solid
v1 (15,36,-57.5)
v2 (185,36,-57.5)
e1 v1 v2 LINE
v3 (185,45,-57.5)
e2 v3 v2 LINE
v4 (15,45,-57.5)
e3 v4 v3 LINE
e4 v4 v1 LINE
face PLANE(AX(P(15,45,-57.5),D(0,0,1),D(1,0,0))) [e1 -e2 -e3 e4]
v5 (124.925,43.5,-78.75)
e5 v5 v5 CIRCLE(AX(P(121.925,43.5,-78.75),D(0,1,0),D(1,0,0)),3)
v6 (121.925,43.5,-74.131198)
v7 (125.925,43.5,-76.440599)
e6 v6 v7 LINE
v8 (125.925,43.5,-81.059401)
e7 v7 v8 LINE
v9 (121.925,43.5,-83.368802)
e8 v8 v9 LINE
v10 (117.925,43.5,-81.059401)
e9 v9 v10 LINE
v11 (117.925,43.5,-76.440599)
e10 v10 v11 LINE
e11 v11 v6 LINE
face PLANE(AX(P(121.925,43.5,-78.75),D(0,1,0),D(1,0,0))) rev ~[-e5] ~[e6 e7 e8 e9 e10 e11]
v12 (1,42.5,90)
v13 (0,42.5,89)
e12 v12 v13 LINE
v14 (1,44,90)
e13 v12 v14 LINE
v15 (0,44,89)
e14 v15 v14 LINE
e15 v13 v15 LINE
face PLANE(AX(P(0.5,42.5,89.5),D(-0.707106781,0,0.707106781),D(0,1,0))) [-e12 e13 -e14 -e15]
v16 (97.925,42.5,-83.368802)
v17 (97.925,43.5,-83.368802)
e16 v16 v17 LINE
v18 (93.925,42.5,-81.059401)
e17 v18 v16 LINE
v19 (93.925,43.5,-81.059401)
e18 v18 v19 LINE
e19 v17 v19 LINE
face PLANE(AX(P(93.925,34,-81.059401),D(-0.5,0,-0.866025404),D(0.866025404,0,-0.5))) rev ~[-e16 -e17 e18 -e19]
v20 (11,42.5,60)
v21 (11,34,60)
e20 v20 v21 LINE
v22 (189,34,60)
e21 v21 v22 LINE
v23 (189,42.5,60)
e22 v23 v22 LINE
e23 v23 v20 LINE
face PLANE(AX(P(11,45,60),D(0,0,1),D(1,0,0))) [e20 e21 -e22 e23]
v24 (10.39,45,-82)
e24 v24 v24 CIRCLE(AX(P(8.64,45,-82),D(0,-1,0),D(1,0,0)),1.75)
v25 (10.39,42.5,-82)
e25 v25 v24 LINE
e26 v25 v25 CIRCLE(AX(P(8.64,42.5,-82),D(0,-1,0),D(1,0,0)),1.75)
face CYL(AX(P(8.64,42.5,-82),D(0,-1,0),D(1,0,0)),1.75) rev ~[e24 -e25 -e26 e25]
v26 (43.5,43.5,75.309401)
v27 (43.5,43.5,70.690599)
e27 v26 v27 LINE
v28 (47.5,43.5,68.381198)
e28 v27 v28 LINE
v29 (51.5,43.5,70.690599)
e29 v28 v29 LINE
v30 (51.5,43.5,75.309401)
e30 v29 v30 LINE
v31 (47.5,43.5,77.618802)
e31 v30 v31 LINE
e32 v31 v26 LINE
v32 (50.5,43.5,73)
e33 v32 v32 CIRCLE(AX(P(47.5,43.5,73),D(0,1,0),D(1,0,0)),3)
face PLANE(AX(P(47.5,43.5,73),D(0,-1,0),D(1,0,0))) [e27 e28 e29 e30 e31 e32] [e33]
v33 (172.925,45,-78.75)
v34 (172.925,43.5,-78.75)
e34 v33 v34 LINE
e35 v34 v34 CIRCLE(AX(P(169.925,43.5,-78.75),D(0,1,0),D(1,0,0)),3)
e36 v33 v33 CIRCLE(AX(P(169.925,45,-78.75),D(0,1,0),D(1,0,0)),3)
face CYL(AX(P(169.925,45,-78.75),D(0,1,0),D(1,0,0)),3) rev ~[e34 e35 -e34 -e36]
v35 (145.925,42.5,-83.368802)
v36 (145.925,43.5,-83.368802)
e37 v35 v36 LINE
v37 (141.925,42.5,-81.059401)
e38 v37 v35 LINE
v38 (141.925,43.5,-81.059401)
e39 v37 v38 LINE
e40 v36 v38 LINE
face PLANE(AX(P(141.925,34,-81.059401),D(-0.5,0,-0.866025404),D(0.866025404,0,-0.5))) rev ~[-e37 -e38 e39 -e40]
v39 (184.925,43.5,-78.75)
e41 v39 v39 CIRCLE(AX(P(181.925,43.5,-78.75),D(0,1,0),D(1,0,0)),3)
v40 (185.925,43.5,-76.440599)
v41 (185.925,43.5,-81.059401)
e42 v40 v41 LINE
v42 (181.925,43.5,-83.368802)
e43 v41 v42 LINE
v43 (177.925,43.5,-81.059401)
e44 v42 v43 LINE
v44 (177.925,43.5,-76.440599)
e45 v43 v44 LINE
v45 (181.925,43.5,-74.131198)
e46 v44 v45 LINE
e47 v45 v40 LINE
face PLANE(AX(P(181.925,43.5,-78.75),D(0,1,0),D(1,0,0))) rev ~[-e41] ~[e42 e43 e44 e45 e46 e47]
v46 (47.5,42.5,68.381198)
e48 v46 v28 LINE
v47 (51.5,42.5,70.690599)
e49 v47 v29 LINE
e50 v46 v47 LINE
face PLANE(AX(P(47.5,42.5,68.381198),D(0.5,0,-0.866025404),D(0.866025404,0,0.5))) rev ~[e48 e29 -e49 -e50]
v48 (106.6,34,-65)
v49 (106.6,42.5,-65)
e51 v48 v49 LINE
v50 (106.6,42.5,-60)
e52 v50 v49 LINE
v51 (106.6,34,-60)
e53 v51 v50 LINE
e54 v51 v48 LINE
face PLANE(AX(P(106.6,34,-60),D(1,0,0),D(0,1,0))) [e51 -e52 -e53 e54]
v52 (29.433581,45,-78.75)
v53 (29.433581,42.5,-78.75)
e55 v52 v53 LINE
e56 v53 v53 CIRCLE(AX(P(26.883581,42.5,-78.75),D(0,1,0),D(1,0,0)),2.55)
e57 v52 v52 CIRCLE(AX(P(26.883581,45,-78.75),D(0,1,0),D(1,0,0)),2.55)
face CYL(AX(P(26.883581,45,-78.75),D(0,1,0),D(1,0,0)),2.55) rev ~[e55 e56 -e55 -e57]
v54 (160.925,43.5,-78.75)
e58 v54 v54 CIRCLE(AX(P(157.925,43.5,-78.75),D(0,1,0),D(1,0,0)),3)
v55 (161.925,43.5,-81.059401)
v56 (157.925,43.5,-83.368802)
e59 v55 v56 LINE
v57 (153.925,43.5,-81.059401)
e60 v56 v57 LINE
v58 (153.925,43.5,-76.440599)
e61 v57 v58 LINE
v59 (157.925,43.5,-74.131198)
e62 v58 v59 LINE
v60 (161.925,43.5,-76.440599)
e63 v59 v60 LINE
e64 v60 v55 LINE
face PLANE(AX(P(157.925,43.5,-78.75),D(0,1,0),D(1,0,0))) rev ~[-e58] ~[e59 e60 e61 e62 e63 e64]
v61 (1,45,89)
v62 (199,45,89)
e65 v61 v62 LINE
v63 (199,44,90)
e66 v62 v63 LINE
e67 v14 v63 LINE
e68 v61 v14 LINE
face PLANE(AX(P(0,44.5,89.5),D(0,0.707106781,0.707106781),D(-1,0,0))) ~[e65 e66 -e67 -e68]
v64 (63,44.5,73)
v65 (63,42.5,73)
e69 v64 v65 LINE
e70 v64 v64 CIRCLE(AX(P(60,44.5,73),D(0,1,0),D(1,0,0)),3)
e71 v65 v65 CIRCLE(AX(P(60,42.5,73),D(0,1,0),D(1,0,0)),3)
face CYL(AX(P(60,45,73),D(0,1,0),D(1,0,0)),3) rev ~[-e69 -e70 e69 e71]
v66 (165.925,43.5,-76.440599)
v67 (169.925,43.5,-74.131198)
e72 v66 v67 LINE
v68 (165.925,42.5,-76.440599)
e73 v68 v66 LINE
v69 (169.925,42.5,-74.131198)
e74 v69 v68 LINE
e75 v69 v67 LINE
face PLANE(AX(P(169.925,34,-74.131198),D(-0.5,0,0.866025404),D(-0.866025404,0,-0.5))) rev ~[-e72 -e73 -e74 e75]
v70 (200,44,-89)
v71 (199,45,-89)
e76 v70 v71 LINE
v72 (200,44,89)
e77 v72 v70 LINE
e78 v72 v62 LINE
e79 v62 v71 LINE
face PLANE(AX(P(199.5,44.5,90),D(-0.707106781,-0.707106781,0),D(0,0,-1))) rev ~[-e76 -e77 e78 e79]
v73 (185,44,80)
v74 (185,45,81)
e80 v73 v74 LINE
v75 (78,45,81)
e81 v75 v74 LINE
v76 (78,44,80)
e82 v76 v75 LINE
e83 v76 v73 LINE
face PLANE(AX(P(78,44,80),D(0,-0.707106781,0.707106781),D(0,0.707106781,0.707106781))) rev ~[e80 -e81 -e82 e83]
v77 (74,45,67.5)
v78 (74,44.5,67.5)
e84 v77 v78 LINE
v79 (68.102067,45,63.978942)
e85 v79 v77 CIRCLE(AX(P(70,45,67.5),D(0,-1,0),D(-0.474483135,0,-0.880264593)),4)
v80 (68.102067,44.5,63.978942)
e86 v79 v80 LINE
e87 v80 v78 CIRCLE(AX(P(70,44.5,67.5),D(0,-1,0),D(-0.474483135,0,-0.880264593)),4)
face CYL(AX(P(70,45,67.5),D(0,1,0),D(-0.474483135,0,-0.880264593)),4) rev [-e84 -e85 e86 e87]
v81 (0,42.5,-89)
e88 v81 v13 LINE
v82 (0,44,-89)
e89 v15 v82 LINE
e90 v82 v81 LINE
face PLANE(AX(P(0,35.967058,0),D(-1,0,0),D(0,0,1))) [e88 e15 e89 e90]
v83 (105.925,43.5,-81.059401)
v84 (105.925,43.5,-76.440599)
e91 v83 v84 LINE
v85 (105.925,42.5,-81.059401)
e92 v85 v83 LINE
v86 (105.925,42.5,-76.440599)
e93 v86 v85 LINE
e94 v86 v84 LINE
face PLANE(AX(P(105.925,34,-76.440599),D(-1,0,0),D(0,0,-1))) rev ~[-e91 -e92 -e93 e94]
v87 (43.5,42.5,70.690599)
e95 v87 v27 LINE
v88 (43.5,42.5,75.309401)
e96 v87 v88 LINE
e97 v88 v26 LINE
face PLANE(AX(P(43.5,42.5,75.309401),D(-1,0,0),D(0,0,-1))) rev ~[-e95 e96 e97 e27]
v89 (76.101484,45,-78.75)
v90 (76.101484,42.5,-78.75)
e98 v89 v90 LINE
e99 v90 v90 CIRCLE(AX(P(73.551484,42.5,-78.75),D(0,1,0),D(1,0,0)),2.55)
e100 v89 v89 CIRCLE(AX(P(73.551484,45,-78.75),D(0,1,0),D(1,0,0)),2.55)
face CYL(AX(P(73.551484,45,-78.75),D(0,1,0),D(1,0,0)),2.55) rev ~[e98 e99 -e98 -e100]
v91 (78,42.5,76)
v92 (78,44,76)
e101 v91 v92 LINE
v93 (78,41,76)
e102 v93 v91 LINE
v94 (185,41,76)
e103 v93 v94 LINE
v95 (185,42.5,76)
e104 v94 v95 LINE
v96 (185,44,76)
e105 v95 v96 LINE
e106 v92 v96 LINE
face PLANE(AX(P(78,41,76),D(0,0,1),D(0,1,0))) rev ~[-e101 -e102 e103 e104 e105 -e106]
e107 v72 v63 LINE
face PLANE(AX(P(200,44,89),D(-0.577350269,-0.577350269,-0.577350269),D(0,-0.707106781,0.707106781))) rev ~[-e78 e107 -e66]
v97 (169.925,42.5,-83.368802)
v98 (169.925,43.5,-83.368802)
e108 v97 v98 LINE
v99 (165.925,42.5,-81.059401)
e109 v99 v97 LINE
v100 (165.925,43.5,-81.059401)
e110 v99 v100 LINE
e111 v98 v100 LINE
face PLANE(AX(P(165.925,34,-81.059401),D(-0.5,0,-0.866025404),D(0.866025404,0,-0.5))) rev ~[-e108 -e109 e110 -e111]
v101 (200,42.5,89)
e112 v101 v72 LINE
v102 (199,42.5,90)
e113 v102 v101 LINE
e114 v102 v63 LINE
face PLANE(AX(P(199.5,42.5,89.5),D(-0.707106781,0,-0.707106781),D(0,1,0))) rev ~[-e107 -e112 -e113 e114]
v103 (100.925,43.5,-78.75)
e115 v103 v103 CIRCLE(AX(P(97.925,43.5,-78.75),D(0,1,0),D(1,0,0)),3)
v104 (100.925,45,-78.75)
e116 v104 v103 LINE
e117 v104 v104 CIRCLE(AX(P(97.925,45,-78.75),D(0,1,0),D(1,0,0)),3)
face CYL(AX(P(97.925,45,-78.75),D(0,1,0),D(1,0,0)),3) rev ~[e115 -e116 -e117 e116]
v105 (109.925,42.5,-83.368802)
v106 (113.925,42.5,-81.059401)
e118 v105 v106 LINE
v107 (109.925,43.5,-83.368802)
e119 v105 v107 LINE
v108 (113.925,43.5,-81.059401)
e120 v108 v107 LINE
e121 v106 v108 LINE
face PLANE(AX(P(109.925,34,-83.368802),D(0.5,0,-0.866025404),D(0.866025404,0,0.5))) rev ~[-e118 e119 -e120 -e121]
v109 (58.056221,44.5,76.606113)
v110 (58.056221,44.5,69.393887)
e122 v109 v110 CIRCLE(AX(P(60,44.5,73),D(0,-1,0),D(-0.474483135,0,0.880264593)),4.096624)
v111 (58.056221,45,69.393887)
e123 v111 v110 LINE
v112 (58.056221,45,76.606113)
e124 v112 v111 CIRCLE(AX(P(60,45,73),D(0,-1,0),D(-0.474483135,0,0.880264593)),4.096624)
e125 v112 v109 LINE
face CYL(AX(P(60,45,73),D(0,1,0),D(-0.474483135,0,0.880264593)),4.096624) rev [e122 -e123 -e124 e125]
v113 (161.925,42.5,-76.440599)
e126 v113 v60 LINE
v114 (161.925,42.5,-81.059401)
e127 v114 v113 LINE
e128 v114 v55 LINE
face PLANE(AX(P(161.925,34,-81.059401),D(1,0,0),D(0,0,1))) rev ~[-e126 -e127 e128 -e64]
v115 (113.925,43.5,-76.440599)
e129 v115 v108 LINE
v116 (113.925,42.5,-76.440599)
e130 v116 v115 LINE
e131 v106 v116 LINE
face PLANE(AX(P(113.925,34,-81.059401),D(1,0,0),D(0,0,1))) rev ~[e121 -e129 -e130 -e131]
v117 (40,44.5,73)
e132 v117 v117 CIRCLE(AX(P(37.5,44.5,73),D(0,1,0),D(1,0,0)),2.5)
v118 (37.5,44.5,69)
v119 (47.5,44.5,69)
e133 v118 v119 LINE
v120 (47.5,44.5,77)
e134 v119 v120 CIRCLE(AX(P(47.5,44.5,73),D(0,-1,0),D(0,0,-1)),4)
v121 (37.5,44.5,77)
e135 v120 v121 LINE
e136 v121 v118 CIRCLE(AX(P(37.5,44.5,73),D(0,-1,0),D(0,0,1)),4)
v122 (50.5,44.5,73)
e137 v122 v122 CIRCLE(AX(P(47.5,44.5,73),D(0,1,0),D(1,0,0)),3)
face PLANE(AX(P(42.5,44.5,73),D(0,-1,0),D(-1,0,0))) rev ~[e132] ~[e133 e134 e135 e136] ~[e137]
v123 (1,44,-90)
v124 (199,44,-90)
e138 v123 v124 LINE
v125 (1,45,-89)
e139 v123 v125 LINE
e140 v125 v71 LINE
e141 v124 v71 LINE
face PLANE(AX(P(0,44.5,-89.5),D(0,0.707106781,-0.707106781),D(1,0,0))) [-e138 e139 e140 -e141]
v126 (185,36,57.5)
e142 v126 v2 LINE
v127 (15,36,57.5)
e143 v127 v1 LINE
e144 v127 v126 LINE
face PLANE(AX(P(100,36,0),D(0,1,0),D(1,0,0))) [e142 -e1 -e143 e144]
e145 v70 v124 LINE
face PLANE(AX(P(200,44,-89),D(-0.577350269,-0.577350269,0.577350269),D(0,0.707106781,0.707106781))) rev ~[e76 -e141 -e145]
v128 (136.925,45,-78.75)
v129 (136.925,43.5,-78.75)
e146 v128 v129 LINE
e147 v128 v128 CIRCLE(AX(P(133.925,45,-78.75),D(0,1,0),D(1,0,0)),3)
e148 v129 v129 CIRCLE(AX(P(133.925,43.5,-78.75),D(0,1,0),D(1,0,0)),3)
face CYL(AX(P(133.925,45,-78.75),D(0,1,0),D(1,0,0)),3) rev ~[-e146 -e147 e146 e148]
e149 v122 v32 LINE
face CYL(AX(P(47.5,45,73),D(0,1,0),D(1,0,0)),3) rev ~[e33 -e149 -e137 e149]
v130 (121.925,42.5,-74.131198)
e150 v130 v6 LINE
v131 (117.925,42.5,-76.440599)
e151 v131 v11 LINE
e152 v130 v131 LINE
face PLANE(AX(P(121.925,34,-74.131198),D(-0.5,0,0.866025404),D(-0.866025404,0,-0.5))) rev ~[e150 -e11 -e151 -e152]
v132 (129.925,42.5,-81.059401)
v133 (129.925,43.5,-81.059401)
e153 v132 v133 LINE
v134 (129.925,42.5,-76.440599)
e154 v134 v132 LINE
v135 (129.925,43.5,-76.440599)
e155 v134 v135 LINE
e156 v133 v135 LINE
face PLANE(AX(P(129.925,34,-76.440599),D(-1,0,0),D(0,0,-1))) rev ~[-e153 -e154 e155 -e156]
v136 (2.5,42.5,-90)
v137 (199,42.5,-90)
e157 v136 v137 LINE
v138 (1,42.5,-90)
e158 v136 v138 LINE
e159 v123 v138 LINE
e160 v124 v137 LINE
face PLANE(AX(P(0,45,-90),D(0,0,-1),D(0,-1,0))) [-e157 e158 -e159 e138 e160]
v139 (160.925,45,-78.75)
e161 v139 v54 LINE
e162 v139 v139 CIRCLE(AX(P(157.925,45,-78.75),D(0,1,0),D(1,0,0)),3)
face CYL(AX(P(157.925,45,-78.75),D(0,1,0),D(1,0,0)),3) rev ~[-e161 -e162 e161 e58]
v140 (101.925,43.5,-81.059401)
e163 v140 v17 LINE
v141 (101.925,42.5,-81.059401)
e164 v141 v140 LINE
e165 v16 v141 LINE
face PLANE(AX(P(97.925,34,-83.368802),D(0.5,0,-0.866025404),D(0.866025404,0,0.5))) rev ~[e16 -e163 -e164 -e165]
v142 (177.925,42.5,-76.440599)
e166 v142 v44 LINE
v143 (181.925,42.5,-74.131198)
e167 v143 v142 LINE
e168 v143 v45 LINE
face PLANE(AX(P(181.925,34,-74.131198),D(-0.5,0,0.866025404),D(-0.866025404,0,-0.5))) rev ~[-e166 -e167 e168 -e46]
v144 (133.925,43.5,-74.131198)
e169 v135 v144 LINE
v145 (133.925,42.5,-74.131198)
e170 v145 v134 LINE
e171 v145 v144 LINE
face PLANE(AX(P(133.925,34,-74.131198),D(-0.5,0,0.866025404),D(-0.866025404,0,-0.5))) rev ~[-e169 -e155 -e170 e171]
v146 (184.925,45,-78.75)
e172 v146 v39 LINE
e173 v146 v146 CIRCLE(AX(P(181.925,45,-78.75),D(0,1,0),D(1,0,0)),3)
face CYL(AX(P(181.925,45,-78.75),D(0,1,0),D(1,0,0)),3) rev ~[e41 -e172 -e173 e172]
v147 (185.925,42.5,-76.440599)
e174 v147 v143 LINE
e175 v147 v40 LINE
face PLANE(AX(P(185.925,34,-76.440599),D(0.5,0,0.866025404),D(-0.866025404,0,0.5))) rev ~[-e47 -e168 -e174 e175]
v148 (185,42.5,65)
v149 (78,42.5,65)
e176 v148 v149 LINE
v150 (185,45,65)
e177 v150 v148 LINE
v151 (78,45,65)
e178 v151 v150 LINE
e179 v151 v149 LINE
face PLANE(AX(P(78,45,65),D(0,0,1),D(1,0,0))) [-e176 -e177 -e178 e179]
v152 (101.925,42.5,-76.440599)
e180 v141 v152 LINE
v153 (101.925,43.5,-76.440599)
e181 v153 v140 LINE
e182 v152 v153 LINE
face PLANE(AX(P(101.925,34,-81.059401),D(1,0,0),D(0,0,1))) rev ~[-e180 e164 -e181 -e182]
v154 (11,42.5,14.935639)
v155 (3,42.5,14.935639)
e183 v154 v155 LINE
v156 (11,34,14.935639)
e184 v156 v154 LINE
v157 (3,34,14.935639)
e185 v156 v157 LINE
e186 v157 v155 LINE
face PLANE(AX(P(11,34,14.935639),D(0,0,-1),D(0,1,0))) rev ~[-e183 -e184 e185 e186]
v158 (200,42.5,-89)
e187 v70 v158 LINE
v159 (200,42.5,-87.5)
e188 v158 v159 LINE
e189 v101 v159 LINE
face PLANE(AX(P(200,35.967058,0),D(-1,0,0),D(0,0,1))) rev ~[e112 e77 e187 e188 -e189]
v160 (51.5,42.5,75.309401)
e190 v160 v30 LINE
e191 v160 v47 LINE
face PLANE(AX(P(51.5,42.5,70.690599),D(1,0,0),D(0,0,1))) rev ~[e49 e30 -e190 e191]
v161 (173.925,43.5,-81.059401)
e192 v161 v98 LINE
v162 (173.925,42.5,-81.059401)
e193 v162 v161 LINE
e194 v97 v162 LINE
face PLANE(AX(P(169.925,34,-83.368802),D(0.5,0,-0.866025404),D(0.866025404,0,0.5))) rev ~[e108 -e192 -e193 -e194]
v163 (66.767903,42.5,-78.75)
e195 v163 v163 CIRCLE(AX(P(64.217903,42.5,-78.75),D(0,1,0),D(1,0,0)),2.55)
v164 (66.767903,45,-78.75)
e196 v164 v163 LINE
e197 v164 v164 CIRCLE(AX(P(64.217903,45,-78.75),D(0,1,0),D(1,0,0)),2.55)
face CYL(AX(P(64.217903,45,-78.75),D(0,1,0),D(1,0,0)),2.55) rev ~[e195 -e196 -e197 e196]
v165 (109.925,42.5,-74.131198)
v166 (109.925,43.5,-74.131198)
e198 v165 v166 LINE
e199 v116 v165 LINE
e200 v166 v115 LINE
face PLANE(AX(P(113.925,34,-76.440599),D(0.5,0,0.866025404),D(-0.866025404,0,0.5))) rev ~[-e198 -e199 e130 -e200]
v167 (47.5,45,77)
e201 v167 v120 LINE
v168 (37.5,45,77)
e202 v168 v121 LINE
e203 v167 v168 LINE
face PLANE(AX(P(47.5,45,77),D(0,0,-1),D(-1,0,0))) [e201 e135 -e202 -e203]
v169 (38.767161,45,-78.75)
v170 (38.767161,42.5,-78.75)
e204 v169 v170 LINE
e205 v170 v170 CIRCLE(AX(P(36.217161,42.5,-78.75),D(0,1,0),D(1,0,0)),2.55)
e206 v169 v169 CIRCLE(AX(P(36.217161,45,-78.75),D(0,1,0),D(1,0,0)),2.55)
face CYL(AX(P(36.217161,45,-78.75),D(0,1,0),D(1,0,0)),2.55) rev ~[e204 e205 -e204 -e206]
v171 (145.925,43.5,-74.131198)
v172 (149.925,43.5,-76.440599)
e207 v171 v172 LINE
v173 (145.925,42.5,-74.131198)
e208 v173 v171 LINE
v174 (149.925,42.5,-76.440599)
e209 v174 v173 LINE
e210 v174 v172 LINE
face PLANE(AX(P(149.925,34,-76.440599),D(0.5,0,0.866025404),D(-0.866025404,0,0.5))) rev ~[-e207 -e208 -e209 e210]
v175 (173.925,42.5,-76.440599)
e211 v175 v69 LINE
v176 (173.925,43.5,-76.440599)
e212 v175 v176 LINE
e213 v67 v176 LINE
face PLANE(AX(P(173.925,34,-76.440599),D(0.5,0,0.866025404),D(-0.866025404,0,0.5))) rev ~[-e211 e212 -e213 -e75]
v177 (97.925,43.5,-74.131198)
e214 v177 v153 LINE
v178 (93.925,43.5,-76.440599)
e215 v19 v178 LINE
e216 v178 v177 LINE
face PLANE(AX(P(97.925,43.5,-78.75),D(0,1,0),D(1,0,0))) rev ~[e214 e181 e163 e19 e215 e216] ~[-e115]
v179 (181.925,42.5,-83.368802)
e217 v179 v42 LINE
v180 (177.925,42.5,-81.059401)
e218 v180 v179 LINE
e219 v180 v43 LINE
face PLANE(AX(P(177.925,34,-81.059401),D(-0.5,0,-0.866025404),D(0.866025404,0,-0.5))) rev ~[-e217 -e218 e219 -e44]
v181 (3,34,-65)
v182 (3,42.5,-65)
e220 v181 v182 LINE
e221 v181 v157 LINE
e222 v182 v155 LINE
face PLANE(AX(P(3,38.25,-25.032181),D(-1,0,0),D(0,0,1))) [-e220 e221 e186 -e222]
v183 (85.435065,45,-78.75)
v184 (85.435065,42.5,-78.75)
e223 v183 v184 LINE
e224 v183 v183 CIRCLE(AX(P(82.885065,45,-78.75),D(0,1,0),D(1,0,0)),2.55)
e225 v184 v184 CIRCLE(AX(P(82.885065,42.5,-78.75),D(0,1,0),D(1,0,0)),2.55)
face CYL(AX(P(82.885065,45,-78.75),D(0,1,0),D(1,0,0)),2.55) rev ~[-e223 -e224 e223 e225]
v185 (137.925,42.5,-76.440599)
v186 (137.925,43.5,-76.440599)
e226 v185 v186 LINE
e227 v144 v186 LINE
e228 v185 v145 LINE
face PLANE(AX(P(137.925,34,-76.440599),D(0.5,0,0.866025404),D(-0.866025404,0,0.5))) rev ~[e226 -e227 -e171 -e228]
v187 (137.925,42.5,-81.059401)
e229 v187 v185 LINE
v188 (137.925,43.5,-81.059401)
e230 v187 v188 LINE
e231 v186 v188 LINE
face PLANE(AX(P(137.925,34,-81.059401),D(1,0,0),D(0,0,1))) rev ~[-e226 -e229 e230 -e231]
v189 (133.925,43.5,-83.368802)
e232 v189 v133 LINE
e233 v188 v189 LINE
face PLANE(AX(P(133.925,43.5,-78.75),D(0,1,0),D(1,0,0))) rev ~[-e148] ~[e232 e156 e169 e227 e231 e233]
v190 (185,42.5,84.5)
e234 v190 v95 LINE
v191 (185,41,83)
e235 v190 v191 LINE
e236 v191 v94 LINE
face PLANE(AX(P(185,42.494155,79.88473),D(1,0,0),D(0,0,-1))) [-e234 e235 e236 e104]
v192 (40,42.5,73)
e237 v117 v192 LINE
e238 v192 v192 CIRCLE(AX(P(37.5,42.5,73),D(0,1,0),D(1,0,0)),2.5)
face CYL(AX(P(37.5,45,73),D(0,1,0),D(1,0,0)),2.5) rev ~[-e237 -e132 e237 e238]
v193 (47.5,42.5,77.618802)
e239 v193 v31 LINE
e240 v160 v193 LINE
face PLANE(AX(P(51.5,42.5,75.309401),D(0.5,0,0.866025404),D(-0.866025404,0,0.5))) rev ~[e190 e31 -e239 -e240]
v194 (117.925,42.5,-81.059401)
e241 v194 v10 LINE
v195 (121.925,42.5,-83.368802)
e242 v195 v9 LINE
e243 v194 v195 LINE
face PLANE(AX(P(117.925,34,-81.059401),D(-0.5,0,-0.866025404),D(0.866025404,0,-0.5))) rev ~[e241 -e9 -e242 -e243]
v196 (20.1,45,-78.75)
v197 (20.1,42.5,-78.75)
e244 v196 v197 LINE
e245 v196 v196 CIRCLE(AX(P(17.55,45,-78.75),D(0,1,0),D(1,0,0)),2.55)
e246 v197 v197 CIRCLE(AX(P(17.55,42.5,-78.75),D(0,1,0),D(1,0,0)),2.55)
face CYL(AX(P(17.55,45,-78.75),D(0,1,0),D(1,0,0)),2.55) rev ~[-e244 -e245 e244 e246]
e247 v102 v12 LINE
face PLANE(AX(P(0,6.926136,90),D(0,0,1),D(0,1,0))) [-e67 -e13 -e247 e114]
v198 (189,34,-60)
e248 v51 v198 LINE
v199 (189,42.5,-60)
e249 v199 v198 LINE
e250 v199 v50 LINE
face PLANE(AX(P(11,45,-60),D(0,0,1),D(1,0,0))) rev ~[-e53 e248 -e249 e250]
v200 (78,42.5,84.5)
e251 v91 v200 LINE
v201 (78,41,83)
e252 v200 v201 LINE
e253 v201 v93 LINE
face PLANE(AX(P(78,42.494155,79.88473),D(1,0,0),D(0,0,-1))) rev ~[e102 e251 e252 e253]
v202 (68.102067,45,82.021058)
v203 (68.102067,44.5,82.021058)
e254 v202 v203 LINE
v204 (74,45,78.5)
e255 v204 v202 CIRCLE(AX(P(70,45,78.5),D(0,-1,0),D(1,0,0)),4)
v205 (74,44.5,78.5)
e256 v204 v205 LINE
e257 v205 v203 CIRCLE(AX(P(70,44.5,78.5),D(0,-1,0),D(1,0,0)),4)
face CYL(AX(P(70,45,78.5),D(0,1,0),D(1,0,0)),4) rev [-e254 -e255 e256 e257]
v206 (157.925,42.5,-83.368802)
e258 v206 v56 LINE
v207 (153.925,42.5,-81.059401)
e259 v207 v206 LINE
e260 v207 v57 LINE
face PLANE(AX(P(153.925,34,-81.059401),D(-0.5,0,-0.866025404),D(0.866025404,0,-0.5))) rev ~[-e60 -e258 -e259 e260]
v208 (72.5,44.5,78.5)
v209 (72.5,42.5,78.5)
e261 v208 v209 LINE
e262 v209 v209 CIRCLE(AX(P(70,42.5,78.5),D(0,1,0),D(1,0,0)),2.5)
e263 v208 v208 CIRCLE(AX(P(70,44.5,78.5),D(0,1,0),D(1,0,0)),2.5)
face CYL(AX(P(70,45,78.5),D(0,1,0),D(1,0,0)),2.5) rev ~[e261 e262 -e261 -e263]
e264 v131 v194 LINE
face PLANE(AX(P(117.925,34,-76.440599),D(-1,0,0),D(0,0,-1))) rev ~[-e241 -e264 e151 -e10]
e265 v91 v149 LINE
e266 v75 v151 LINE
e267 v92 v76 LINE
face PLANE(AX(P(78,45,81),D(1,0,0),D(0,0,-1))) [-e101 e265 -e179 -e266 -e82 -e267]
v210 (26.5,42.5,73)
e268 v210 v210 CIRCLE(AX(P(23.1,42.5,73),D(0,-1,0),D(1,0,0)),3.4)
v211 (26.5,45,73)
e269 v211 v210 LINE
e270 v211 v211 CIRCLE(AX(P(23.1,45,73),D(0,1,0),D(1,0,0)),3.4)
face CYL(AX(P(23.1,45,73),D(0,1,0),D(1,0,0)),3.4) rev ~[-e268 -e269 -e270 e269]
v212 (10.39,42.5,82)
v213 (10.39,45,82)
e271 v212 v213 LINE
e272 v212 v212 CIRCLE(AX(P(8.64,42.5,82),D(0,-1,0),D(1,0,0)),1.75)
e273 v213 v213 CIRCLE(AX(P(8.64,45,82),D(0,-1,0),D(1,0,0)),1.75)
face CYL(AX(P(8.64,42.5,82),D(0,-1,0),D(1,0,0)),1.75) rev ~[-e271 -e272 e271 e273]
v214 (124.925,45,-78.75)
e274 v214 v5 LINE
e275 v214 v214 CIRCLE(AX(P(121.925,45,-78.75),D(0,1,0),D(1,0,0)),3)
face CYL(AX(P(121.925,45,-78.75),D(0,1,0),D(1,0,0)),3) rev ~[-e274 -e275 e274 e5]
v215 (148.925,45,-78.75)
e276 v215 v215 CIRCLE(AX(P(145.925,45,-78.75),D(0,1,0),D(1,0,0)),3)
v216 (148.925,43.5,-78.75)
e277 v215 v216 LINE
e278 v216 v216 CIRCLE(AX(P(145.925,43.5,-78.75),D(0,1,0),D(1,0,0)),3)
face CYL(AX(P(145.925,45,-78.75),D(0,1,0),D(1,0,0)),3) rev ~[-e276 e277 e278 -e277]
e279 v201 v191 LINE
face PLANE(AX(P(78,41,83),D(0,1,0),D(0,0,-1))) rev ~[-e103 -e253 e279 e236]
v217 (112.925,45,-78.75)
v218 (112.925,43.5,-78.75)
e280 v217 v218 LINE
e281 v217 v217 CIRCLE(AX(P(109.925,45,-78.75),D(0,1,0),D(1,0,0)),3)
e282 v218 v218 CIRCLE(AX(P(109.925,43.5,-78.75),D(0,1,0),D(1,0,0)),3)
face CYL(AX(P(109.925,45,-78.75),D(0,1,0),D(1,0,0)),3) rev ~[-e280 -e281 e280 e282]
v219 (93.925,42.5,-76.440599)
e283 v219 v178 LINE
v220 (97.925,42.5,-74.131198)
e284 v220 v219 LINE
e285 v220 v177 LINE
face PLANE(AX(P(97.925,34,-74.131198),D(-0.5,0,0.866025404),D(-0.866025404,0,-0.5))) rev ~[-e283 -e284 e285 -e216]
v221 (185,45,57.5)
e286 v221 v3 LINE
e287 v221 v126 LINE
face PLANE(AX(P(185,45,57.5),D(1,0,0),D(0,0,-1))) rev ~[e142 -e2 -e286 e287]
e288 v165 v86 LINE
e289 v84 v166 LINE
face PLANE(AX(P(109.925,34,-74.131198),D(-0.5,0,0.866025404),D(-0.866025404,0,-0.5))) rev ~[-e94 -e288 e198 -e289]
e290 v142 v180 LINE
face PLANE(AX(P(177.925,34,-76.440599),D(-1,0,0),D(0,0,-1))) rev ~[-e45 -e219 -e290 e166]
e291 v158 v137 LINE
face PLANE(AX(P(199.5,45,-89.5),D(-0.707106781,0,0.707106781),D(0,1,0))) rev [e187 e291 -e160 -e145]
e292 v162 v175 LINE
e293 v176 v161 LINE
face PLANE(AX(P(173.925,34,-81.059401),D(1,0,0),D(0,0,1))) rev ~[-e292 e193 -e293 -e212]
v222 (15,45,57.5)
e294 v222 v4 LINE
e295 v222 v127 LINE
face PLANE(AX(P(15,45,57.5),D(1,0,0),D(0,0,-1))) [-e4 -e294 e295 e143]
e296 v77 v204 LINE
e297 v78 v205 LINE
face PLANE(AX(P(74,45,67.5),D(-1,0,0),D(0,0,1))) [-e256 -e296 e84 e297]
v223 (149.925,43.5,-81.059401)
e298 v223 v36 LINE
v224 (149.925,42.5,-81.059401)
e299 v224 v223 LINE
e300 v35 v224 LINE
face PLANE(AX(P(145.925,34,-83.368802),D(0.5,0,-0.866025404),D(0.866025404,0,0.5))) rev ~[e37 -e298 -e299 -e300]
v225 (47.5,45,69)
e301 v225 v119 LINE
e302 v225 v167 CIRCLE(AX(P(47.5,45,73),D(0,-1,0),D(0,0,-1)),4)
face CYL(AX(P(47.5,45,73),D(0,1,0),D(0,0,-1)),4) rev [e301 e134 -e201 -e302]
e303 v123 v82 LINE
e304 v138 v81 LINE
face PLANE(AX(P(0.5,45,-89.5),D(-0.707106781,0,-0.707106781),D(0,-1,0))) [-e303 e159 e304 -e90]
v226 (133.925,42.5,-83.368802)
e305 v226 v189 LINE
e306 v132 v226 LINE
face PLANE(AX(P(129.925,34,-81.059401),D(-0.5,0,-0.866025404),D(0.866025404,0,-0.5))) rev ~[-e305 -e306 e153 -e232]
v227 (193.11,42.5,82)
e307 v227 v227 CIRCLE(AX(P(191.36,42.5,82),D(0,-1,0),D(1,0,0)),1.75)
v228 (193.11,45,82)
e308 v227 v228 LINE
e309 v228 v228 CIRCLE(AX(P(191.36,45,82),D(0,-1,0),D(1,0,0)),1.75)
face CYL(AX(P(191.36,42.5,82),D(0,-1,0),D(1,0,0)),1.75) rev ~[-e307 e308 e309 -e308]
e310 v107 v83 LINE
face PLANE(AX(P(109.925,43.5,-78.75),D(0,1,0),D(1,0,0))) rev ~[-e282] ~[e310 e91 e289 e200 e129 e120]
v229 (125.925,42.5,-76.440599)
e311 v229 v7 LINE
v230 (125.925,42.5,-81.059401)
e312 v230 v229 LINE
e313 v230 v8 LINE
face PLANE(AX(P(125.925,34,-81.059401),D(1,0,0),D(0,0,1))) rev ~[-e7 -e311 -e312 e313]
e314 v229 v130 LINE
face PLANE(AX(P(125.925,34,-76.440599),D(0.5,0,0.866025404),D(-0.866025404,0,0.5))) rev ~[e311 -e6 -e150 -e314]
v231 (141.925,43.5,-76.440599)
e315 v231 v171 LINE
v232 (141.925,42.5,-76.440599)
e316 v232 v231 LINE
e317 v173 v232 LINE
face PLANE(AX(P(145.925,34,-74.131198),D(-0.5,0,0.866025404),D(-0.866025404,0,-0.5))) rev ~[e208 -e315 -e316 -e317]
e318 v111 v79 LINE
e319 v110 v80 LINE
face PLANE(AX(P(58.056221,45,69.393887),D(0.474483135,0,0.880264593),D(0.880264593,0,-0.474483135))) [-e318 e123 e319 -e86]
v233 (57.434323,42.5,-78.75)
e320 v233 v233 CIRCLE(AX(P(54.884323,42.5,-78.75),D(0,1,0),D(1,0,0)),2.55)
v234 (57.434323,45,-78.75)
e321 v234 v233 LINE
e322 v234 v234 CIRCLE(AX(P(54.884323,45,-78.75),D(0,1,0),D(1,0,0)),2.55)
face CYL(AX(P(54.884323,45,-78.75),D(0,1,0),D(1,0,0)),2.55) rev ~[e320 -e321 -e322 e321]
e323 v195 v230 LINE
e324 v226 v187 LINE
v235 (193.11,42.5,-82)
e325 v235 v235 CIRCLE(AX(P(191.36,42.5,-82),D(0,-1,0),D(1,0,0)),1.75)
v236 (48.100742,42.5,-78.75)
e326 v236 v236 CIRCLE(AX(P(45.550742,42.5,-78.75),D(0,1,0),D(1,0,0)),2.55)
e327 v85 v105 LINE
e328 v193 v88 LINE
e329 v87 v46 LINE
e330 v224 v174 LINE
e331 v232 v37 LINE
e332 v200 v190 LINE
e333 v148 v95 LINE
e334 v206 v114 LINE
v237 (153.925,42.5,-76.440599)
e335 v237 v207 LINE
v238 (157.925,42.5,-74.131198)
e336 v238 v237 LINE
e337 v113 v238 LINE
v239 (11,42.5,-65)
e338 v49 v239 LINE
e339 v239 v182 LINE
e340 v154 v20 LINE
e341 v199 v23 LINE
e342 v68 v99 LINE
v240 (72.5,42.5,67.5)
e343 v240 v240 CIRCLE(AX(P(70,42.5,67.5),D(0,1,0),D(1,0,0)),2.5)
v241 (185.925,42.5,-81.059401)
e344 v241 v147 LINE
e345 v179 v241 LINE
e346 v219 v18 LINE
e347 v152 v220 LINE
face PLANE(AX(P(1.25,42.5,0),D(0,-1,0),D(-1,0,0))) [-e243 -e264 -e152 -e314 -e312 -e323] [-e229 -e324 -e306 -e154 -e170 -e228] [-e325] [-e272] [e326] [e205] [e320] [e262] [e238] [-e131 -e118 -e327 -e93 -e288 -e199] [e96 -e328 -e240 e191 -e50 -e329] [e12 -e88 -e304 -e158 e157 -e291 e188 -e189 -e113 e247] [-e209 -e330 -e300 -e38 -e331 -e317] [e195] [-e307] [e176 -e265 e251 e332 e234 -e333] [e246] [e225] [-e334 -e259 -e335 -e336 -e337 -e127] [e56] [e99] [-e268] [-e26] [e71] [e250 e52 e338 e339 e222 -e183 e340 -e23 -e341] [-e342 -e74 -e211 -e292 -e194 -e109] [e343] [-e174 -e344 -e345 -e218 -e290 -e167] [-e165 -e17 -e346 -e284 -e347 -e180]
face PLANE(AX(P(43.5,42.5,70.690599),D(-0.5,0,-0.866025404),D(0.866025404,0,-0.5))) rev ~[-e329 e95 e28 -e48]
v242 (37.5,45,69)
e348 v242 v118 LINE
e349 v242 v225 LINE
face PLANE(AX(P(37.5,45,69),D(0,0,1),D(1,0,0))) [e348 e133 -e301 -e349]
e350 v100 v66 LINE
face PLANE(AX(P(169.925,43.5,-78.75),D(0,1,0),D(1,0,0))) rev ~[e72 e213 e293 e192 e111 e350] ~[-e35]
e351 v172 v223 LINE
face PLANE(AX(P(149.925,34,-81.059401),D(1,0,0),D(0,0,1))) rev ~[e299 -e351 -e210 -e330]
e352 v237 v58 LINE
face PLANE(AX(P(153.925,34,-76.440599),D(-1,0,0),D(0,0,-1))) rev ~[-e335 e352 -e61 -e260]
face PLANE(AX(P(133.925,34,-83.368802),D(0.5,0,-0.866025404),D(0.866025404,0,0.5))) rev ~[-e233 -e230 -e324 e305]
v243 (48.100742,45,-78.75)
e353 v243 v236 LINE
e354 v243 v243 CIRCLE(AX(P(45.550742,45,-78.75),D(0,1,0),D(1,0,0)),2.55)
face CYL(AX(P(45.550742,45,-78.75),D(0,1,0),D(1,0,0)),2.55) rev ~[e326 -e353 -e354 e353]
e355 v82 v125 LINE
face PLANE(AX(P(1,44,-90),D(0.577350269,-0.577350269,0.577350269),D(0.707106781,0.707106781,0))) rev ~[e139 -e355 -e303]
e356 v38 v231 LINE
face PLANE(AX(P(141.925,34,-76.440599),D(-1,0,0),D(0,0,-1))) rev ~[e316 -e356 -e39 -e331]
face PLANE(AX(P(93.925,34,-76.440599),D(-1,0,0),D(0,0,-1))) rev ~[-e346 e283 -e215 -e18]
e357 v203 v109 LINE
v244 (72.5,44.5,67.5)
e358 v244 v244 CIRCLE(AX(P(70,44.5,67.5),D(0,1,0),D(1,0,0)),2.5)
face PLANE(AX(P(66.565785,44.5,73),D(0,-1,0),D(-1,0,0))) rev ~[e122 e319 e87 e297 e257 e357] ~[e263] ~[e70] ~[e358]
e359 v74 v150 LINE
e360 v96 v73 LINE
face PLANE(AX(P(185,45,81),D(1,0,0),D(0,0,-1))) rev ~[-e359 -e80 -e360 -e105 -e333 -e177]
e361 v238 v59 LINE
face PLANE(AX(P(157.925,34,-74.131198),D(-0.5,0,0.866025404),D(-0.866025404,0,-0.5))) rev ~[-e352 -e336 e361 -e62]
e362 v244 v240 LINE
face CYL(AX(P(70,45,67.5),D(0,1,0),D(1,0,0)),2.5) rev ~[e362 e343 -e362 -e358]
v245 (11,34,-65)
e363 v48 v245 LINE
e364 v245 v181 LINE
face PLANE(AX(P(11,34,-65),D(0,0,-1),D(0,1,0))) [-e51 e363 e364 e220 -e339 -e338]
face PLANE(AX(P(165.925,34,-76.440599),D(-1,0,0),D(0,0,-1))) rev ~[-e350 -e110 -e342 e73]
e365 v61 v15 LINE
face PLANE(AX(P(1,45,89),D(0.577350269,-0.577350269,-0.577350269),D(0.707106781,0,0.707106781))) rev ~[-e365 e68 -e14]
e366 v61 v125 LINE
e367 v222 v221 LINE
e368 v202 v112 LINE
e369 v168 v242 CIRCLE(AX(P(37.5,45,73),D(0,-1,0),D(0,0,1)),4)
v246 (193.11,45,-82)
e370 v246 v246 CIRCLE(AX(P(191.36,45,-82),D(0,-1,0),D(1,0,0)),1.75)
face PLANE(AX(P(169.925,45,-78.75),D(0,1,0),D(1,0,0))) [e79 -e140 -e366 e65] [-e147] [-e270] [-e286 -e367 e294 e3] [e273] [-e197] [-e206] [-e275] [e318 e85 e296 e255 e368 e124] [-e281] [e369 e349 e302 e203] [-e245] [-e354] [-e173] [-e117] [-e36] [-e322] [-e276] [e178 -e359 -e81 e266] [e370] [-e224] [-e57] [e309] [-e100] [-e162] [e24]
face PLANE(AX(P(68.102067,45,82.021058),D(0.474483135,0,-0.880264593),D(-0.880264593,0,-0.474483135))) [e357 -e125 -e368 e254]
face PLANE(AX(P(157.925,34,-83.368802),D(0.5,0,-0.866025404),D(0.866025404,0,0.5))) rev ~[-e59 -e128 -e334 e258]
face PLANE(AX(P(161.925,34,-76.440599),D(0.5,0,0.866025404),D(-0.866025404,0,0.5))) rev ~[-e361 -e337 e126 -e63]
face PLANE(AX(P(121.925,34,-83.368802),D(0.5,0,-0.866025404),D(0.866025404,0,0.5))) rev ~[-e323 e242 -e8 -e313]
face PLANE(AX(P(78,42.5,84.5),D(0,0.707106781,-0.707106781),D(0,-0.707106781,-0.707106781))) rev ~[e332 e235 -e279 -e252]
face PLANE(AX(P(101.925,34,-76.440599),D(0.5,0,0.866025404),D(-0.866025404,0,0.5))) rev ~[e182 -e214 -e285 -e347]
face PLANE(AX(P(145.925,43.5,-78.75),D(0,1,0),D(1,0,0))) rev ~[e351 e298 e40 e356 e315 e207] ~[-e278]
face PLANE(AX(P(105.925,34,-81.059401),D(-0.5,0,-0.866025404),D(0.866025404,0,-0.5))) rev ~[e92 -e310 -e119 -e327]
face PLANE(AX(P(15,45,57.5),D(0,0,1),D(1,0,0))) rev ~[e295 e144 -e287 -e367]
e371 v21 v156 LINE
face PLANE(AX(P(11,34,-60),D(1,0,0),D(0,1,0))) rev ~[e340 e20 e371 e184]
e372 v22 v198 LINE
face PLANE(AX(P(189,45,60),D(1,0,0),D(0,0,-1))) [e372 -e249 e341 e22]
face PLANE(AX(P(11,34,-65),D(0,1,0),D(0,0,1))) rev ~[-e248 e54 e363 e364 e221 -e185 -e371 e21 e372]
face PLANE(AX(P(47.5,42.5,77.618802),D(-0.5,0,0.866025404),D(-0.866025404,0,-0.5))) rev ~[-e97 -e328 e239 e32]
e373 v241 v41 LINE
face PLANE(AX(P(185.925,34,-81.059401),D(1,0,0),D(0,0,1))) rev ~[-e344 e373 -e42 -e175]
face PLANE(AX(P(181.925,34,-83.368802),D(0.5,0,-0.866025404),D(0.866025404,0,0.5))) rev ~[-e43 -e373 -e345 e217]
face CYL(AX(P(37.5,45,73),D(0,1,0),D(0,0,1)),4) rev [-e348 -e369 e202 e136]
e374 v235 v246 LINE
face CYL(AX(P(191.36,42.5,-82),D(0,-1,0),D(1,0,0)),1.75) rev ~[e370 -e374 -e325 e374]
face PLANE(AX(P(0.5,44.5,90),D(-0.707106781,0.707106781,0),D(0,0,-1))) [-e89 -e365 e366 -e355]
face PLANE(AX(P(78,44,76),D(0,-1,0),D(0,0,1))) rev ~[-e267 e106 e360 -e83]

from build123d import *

# Parameters (mm, degrees)
SALIENTE_EXTRUIR1_DEPTH = 200
CROQUIS2_W              = 178
CROQUIS2_H              = 120
SALIENTE_EXTRUIR2_DEPTH = 11
CROQUIS3_W              = 170
CROQUIS3_H              = 115
CORTAR_EXTRUIR1_DEPTH   = 9
CROQUIS4_W              = 2.5
CROQUIS4_H              = 170
CROQUIS4_H_2            = 180
CORTAR_EXTRUIR2_DEPTH   = 42.5
CROQUIS5_R              = 3.075
CORTAR_EXTRUIR3_DEPTH   = 10
CORTAR_EXTRUIR4_DEPTH   = 11.2
CROQUIS7_R              = 2.55
CORTAR_EXTRUIR5_DEPTH   = 10
CROQUIS9_W              = 107
CROQUIS9_H              = 16
CORTAR_EXTRUIR7_DEPTH   = 4
CROQUIS8_R              = 3
CROQUIS8_R_2            = 2.5
CROQUIS8_R_3            = 3.4
CORTAR_EXTRUIR6_DEPTH   = 4
CROQUIS11_OUTSIDE_W     = 256.562
CROQUIS11_OUTSIDE_H     = 236.562
CORTAR_EXTRUIR10_DEPTH  = 1
CORTAR_EXTRUIR11_DEPTH  = 0.5
CROQUIS13_W             = 21.552052497
CROQUIS13_H             = 68.530716877
CROQUIS13_W_2           = 18.933824997
CROQUIS13_H_2           = 79.190643128
CORTAR_EXTRUIR12_DEPTH  = 201
CROQUIS18_R             = 1.75
CORTAR_EXTRUIR13_DEPTH  = 3.5
CROQUIS21_W             = 95.6
CROQUIS21_H             = 8.5
SALIENTE_EXTRUIR3_DEPTH = 5
CROQUIS22_W             = 79.935638501
CROQUIS22_H             = 8.5
SALIENTE_EXTRUIR4_DEPTH = 8
SALIENTE_EXTRUIR5_DEPTH = 107
CROQUIS25_R             = 3
SALIENTE_EXTRUIR6_DEPTH = 1.5
MATRIZL1_COUNT          = 8
MATRIZL1_PITCH          = 12
CHAFL_N1_SIZE           = 1


with BuildPart() as part:
    # Croquis1 → Saliente-Extruir1 (new body)
    with BuildSketch(Plane(origin=(0, 0, 0), x_dir=(0, 0, -1), z_dir=(1, 0, 0))):
        Polygon((-90, 6.926136028), (-90, 45), (90, 45), (90, 6.926136028), (87.7, 5), (87.7, 0), (85.2, 0), (85.2, 6.167243447), (87.5, 8.093379476), (87.5, 42.5), (-87.5, 42.5), (-87.5, 8.093379476), (-85.2, 6.167243447), (-85.2, 0), (-87.7, 0), (-87.7, 5), align=None)
    extrude(amount=SALIENTE_EXTRUIR1_DEPTH)

    # Croquis2 → Saliente-Extruir2 (add)
    with BuildSketch(Plane(origin=(0, 45, 0), x_dir=(1, 0, 0), z_dir=(0, 1, 0))):
        with Locations((100, 0)):
            Rectangle(CROQUIS2_W, CROQUIS2_H)
    extrude(amount=-SALIENTE_EXTRUIR2_DEPTH)

    # Croquis3 → Cortar-Extruir1 (cut)
    with BuildSketch(Plane(origin=(0, 45, 0), x_dir=(1, 0, 0), z_dir=(0, 1, 0))):
        with Locations((100, 0)):
            Rectangle(CROQUIS3_W, CROQUIS3_H)
    extrude(amount=-CORTAR_EXTRUIR1_DEPTH, mode=Mode.SUBTRACT)

    # Croquis4 → Cortar-Extruir2 (cut)
    with BuildSketch(Plane(origin=(0, 0, 0), x_dir=(-1, 0, 0), z_dir=(0, -1, 0))):
        with Locations((-198.75, -5)):
            Rectangle(CROQUIS4_W, CROQUIS4_H)
        with Locations((-1.25, 0)):
            Rectangle(CROQUIS4_W, CROQUIS4_H_2)
    extrude(amount=-CORTAR_EXTRUIR2_DEPTH, mode=Mode.SUBTRACT)

    # Croquis5 → Cortar-Extruir3 (cut)
    with BuildSketch(Plane(origin=(0, 45, 0), x_dir=(1, 0, 0), z_dir=(0, 1, 0))):
        with Locations((181.925, 78.75)):
            Circle(CROQUIS5_R)
        with Locations((169.925, 78.75)):
            Circle(CROQUIS5_R)
        with Locations((157.925, 78.75)):
            Circle(CROQUIS5_R)
        with Locations((145.925, 78.75)):
            Circle(CROQUIS5_R)
        with Locations((133.925, 78.75)):
            Circle(CROQUIS5_R)
        with Locations((121.925, 78.75)):
            Circle(CROQUIS5_R)
        with Locations((109.925, 78.75)):
            Circle(CROQUIS5_R)
        with Locations((97.925, 78.75)):
            Circle(CROQUIS5_R)
    extrude(amount=-CORTAR_EXTRUIR3_DEPTH, mode=Mode.SUBTRACT)

    # Croquis6 → Cortar-Extruir4 (cut)
    with BuildSketch(Plane.XZ.offset(-34)):
        Polygon((185.925, -81.059401077), (185.925, -76.440598923), (181.925, -74.131197846), (177.925, -76.440598923), (177.925, -81.059401077), (181.925, -83.368802154), align=None)
        Polygon((169.925, -74.131197846), (165.925, -76.440598923), (165.925, -81.059401077), (169.925, -83.368802154), (173.925, -81.059401077), (173.925, -76.440598923), align=None)
        Polygon((157.925, -74.131197846), (153.925, -76.440598923), (153.925, -81.059401077), (157.925, -83.368802154), (161.925, -81.059401077), (161.925, -76.440598923), align=None)
        Polygon((145.925, -74.131197846), (141.925, -76.440598923), (141.925, -81.059401077), (145.925, -83.368802154), (149.925, -81.059401077), (149.925, -76.440598923), align=None)
        Polygon((133.925, -74.131197846), (129.925, -76.440598923), (129.925, -81.059401077), (133.925, -83.368802154), (137.925, -81.059401077), (137.925, -76.440598923), align=None)
        Polygon((121.925, -74.131197846), (117.925, -76.440598923), (117.925, -81.059401077), (121.925, -83.368802154), (125.925, -81.059401077), (125.925, -76.440598923), align=None)
        Polygon((109.925, -74.131197846), (105.925, -76.440598923), (105.925, -81.059401077), (109.925, -83.368802154), (113.925, -81.059401077), (113.925, -76.440598923), align=None)
        Polygon((97.925, -74.131197846), (93.925, -76.440598923), (93.925, -81.059401077), (97.925, -83.368802154), (101.925, -81.059401077), (101.925, -76.440598923), align=None)
    extrude(amount=-CORTAR_EXTRUIR4_DEPTH, mode=Mode.SUBTRACT)

    # Croquis7 → Cortar-Extruir5 (cut)
    with BuildSketch(Plane(origin=(0, 45, 0), x_dir=(1, 0, 0), z_dir=(0, 1, 0))):
        with Locations((82.885064516, 78.75)):
            Circle(CROQUIS7_R)
        with Locations((73.551483871, 78.75)):
            Circle(CROQUIS7_R)
        with Locations((64.217903226, 78.75)):
            Circle(CROQUIS7_R)
        with Locations((54.88432258, 78.75)):
            Circle(CROQUIS7_R)
        with Locations((45.550741935, 78.75)):
            Circle(CROQUIS7_R)
        with Locations((36.21716129, 78.75)):
            Circle(CROQUIS7_R)
        with Locations((26.883580645, 78.75)):
            Circle(CROQUIS7_R)
        with Locations((17.55, 78.75)):
            Circle(CROQUIS7_R)
    extrude(amount=-CORTAR_EXTRUIR5_DEPTH, mode=Mode.SUBTRACT)

    # Croquis9 → Cortar-Extruir7 (cut)
    with BuildSketch(Plane(origin=(0, 45, 0), x_dir=(1, 0, 0), z_dir=(0, 1, 0))):
        with Locations((131.5, -73)):
            Rectangle(CROQUIS9_W, CROQUIS9_H)
    extrude(amount=-CORTAR_EXTRUIR7_DEPTH, mode=Mode.SUBTRACT)

    # Croquis8 → Cortar-Extruir6 (cut)
    with BuildSketch(Plane(origin=(0, 45, 0), x_dir=(1, 0, 0), z_dir=(0, 1, 0))):
        with Locations((60, -73)):
            Circle(CROQUIS8_R)
        with Locations((37.5, -73)):
            Circle(CROQUIS8_R_2)
        with Locations((23.1, -73)):
            Circle(CROQUIS8_R_3)
        with Locations((47.5, -73)):
            Circle(CROQUIS8_R)
        with Locations((70, -78.5)):
            Circle(CROQUIS8_R_2)
        with Locations((70, -67.5)):
            Circle(CROQUIS8_R_2)
    extrude(amount=-CORTAR_EXTRUIR6_DEPTH, mode=Mode.SUBTRACT)

    # Croquis11 outside → Cortar-Extruir10 (cut)
    with BuildSketch(Plane.XZ.offset(-42.5)):
        with Locations((100, 0)):
            Rectangle(CROQUIS11_OUTSIDE_W, CROQUIS11_OUTSIDE_H)
        Polygon((47.5, 4691.358777844), (-3952.116025404, 2382.179388922), (-3952.116025404, -2236.179388922), (47.5, -4545.358777844), (4047.116025404, -2236.179388922), (4047.116025404, 2382.179388922), align=None, mode=Mode.SUBTRACT)
        Polygon((47.5, 68.381197846), (51.5, 70.690598923), (51.5, 75.309401077), (47.5, 77.618802154), (43.5, 75.309401077), (43.5, 70.690598923), align=None)
    extrude(amount=-CORTAR_EXTRUIR10_DEPTH, mode=Mode.SUBTRACT)

    # Croquis12 → Cortar-Extruir11 (cut)
    with BuildSketch(Plane(origin=(0, 45, 0), x_dir=(1, 0, 0), z_dir=(0, 1, 0))):
        with BuildLine():
            Line((68.102067459, -82.021058373), (58.056221043, -76.606112981))
            ThreePointArc((58.056221043, -76.606112981), (55.903376089, -73), (58.056221043, -69.393887019))
            Line((58.056221043, -69.393887019), (68.102067459, -63.978941627))
            ThreePointArc((68.102067459, -63.978941627), (72.050398722, -64.065489106), (74, -67.5))
            Line((74, -67.5), (74, -78.5))
            ThreePointArc((74, -78.5), (72.050398722, -81.934510894), (68.102067459, -82.021058373))
        make_face()
        with BuildLine():
            Line((47.5, -77), (37.5, -77))
            ThreePointArc((37.5, -77), (33.5, -73), (37.5, -69))
            Line((37.5, -69), (47.5, -69))
            ThreePointArc((47.5, -69), (51.5, -73), (47.5, -77))
        make_face()
    extrude(amount=-CORTAR_EXTRUIR11_DEPTH, mode=Mode.SUBTRACT)

    # Croquis13 → Cortar-Extruir12 (cut, through all)
    with BuildSketch(Plane.ZY):
        with Locations((-79.223973752, 8.234641561)):
            Rectangle(CROQUIS13_W, CROQUIS13_H)
        with Locations((80.533087502, 2.904678436)):
            Rectangle(CROQUIS13_W_2, CROQUIS13_H_2)
    extrude(amount=-CORTAR_EXTRUIR12_DEPTH, mode=Mode.SUBTRACT)

    # Croquis18 → Cortar-Extruir13 (cut, through all)
    with BuildSketch(Plane.XZ.offset(-42.5)):
        with Locations((191.36, -82)):
            Circle(CROQUIS18_R)
        with Locations((8.64, -82)):
            Circle(CROQUIS18_R)
        with Locations((8.64, 82)):
            Circle(CROQUIS18_R)
        with Locations((191.36, 82)):
            Circle(CROQUIS18_R)
    extrude(amount=-CORTAR_EXTRUIR13_DEPTH, mode=Mode.SUBTRACT)

    # Croquis21 → Saliente-Extruir3 (add)
    with BuildSketch(Plane(origin=(0, 0, -60), x_dir=(-1, 0, 0), z_dir=(0, 0, -1))):
        with Locations((-58.8, 38.25)):
            Rectangle(CROQUIS21_W, CROQUIS21_H)
    extrude(amount=SALIENTE_EXTRUIR3_DEPTH)

    # Croquis22 → Saliente-Extruir4 (add)
    with BuildSketch(Plane.ZY.offset(-11)):
        with Locations((-25.03218075, 38.25)):
            Rectangle(CROQUIS22_W, CROQUIS22_H)
    extrude(amount=SALIENTE_EXTRUIR4_DEPTH)

    # Croquis24 → Saliente-Extruir5 (add)
    with BuildSketch(Plane(origin=(78, 0, 0), x_dir=(0, 0, -1), z_dir=(1, 0, 0))):
        Polygon((-84.5, 42.5), (-83, 41), (-76, 41), (-76, 44), (-80, 44), (-81, 45), (-81, 42.5), align=None)
    extrude(amount=SALIENTE_EXTRUIR5_DEPTH)

    # Croquis25 → Saliente-Extruir6 (add)
    with BuildSketch(Plane(origin=(0, 45, 0), x_dir=(1, 0, 0), z_dir=(0, 1, 0))):
        Polygon((181.925, 74.131197846), (185.925, 76.440598923), (185.925, 81.059401077), (181.925, 83.368802154), (177.925, 81.059401077), (177.925, 76.440598923), align=None)
        with Locations((181.925, 78.75)):
            Circle(CROQUIS25_R, mode=Mode.SUBTRACT)
    saliente_extruir6 = extrude(amount=-SALIENTE_EXTRUIR6_DEPTH)

    # MatrizL1: Saliente-Extruir6 ×8
    with Locations(*[(-i * MATRIZL1_PITCH, 0, 0) for i in range(1, MATRIZL1_COUNT)]):
        add(saliente_extruir6)

    # Chaflán1
    chafl_n1_edges = [part.edges().sort_by_distance(p)[0] for p in [
        (0, 43.75, 90),
        (0, 45, 0),
        (0, 43.75, -90),
        (100, 45, 90),
        (100, 45, -90),
        (200, 43.75, -90),
        (200, 45, 0),
        (200, 43.75, 90),
    ]]
    chamfer(chafl_n1_edges, length=CHAFL_N1_SIZE)


solid = part.part
